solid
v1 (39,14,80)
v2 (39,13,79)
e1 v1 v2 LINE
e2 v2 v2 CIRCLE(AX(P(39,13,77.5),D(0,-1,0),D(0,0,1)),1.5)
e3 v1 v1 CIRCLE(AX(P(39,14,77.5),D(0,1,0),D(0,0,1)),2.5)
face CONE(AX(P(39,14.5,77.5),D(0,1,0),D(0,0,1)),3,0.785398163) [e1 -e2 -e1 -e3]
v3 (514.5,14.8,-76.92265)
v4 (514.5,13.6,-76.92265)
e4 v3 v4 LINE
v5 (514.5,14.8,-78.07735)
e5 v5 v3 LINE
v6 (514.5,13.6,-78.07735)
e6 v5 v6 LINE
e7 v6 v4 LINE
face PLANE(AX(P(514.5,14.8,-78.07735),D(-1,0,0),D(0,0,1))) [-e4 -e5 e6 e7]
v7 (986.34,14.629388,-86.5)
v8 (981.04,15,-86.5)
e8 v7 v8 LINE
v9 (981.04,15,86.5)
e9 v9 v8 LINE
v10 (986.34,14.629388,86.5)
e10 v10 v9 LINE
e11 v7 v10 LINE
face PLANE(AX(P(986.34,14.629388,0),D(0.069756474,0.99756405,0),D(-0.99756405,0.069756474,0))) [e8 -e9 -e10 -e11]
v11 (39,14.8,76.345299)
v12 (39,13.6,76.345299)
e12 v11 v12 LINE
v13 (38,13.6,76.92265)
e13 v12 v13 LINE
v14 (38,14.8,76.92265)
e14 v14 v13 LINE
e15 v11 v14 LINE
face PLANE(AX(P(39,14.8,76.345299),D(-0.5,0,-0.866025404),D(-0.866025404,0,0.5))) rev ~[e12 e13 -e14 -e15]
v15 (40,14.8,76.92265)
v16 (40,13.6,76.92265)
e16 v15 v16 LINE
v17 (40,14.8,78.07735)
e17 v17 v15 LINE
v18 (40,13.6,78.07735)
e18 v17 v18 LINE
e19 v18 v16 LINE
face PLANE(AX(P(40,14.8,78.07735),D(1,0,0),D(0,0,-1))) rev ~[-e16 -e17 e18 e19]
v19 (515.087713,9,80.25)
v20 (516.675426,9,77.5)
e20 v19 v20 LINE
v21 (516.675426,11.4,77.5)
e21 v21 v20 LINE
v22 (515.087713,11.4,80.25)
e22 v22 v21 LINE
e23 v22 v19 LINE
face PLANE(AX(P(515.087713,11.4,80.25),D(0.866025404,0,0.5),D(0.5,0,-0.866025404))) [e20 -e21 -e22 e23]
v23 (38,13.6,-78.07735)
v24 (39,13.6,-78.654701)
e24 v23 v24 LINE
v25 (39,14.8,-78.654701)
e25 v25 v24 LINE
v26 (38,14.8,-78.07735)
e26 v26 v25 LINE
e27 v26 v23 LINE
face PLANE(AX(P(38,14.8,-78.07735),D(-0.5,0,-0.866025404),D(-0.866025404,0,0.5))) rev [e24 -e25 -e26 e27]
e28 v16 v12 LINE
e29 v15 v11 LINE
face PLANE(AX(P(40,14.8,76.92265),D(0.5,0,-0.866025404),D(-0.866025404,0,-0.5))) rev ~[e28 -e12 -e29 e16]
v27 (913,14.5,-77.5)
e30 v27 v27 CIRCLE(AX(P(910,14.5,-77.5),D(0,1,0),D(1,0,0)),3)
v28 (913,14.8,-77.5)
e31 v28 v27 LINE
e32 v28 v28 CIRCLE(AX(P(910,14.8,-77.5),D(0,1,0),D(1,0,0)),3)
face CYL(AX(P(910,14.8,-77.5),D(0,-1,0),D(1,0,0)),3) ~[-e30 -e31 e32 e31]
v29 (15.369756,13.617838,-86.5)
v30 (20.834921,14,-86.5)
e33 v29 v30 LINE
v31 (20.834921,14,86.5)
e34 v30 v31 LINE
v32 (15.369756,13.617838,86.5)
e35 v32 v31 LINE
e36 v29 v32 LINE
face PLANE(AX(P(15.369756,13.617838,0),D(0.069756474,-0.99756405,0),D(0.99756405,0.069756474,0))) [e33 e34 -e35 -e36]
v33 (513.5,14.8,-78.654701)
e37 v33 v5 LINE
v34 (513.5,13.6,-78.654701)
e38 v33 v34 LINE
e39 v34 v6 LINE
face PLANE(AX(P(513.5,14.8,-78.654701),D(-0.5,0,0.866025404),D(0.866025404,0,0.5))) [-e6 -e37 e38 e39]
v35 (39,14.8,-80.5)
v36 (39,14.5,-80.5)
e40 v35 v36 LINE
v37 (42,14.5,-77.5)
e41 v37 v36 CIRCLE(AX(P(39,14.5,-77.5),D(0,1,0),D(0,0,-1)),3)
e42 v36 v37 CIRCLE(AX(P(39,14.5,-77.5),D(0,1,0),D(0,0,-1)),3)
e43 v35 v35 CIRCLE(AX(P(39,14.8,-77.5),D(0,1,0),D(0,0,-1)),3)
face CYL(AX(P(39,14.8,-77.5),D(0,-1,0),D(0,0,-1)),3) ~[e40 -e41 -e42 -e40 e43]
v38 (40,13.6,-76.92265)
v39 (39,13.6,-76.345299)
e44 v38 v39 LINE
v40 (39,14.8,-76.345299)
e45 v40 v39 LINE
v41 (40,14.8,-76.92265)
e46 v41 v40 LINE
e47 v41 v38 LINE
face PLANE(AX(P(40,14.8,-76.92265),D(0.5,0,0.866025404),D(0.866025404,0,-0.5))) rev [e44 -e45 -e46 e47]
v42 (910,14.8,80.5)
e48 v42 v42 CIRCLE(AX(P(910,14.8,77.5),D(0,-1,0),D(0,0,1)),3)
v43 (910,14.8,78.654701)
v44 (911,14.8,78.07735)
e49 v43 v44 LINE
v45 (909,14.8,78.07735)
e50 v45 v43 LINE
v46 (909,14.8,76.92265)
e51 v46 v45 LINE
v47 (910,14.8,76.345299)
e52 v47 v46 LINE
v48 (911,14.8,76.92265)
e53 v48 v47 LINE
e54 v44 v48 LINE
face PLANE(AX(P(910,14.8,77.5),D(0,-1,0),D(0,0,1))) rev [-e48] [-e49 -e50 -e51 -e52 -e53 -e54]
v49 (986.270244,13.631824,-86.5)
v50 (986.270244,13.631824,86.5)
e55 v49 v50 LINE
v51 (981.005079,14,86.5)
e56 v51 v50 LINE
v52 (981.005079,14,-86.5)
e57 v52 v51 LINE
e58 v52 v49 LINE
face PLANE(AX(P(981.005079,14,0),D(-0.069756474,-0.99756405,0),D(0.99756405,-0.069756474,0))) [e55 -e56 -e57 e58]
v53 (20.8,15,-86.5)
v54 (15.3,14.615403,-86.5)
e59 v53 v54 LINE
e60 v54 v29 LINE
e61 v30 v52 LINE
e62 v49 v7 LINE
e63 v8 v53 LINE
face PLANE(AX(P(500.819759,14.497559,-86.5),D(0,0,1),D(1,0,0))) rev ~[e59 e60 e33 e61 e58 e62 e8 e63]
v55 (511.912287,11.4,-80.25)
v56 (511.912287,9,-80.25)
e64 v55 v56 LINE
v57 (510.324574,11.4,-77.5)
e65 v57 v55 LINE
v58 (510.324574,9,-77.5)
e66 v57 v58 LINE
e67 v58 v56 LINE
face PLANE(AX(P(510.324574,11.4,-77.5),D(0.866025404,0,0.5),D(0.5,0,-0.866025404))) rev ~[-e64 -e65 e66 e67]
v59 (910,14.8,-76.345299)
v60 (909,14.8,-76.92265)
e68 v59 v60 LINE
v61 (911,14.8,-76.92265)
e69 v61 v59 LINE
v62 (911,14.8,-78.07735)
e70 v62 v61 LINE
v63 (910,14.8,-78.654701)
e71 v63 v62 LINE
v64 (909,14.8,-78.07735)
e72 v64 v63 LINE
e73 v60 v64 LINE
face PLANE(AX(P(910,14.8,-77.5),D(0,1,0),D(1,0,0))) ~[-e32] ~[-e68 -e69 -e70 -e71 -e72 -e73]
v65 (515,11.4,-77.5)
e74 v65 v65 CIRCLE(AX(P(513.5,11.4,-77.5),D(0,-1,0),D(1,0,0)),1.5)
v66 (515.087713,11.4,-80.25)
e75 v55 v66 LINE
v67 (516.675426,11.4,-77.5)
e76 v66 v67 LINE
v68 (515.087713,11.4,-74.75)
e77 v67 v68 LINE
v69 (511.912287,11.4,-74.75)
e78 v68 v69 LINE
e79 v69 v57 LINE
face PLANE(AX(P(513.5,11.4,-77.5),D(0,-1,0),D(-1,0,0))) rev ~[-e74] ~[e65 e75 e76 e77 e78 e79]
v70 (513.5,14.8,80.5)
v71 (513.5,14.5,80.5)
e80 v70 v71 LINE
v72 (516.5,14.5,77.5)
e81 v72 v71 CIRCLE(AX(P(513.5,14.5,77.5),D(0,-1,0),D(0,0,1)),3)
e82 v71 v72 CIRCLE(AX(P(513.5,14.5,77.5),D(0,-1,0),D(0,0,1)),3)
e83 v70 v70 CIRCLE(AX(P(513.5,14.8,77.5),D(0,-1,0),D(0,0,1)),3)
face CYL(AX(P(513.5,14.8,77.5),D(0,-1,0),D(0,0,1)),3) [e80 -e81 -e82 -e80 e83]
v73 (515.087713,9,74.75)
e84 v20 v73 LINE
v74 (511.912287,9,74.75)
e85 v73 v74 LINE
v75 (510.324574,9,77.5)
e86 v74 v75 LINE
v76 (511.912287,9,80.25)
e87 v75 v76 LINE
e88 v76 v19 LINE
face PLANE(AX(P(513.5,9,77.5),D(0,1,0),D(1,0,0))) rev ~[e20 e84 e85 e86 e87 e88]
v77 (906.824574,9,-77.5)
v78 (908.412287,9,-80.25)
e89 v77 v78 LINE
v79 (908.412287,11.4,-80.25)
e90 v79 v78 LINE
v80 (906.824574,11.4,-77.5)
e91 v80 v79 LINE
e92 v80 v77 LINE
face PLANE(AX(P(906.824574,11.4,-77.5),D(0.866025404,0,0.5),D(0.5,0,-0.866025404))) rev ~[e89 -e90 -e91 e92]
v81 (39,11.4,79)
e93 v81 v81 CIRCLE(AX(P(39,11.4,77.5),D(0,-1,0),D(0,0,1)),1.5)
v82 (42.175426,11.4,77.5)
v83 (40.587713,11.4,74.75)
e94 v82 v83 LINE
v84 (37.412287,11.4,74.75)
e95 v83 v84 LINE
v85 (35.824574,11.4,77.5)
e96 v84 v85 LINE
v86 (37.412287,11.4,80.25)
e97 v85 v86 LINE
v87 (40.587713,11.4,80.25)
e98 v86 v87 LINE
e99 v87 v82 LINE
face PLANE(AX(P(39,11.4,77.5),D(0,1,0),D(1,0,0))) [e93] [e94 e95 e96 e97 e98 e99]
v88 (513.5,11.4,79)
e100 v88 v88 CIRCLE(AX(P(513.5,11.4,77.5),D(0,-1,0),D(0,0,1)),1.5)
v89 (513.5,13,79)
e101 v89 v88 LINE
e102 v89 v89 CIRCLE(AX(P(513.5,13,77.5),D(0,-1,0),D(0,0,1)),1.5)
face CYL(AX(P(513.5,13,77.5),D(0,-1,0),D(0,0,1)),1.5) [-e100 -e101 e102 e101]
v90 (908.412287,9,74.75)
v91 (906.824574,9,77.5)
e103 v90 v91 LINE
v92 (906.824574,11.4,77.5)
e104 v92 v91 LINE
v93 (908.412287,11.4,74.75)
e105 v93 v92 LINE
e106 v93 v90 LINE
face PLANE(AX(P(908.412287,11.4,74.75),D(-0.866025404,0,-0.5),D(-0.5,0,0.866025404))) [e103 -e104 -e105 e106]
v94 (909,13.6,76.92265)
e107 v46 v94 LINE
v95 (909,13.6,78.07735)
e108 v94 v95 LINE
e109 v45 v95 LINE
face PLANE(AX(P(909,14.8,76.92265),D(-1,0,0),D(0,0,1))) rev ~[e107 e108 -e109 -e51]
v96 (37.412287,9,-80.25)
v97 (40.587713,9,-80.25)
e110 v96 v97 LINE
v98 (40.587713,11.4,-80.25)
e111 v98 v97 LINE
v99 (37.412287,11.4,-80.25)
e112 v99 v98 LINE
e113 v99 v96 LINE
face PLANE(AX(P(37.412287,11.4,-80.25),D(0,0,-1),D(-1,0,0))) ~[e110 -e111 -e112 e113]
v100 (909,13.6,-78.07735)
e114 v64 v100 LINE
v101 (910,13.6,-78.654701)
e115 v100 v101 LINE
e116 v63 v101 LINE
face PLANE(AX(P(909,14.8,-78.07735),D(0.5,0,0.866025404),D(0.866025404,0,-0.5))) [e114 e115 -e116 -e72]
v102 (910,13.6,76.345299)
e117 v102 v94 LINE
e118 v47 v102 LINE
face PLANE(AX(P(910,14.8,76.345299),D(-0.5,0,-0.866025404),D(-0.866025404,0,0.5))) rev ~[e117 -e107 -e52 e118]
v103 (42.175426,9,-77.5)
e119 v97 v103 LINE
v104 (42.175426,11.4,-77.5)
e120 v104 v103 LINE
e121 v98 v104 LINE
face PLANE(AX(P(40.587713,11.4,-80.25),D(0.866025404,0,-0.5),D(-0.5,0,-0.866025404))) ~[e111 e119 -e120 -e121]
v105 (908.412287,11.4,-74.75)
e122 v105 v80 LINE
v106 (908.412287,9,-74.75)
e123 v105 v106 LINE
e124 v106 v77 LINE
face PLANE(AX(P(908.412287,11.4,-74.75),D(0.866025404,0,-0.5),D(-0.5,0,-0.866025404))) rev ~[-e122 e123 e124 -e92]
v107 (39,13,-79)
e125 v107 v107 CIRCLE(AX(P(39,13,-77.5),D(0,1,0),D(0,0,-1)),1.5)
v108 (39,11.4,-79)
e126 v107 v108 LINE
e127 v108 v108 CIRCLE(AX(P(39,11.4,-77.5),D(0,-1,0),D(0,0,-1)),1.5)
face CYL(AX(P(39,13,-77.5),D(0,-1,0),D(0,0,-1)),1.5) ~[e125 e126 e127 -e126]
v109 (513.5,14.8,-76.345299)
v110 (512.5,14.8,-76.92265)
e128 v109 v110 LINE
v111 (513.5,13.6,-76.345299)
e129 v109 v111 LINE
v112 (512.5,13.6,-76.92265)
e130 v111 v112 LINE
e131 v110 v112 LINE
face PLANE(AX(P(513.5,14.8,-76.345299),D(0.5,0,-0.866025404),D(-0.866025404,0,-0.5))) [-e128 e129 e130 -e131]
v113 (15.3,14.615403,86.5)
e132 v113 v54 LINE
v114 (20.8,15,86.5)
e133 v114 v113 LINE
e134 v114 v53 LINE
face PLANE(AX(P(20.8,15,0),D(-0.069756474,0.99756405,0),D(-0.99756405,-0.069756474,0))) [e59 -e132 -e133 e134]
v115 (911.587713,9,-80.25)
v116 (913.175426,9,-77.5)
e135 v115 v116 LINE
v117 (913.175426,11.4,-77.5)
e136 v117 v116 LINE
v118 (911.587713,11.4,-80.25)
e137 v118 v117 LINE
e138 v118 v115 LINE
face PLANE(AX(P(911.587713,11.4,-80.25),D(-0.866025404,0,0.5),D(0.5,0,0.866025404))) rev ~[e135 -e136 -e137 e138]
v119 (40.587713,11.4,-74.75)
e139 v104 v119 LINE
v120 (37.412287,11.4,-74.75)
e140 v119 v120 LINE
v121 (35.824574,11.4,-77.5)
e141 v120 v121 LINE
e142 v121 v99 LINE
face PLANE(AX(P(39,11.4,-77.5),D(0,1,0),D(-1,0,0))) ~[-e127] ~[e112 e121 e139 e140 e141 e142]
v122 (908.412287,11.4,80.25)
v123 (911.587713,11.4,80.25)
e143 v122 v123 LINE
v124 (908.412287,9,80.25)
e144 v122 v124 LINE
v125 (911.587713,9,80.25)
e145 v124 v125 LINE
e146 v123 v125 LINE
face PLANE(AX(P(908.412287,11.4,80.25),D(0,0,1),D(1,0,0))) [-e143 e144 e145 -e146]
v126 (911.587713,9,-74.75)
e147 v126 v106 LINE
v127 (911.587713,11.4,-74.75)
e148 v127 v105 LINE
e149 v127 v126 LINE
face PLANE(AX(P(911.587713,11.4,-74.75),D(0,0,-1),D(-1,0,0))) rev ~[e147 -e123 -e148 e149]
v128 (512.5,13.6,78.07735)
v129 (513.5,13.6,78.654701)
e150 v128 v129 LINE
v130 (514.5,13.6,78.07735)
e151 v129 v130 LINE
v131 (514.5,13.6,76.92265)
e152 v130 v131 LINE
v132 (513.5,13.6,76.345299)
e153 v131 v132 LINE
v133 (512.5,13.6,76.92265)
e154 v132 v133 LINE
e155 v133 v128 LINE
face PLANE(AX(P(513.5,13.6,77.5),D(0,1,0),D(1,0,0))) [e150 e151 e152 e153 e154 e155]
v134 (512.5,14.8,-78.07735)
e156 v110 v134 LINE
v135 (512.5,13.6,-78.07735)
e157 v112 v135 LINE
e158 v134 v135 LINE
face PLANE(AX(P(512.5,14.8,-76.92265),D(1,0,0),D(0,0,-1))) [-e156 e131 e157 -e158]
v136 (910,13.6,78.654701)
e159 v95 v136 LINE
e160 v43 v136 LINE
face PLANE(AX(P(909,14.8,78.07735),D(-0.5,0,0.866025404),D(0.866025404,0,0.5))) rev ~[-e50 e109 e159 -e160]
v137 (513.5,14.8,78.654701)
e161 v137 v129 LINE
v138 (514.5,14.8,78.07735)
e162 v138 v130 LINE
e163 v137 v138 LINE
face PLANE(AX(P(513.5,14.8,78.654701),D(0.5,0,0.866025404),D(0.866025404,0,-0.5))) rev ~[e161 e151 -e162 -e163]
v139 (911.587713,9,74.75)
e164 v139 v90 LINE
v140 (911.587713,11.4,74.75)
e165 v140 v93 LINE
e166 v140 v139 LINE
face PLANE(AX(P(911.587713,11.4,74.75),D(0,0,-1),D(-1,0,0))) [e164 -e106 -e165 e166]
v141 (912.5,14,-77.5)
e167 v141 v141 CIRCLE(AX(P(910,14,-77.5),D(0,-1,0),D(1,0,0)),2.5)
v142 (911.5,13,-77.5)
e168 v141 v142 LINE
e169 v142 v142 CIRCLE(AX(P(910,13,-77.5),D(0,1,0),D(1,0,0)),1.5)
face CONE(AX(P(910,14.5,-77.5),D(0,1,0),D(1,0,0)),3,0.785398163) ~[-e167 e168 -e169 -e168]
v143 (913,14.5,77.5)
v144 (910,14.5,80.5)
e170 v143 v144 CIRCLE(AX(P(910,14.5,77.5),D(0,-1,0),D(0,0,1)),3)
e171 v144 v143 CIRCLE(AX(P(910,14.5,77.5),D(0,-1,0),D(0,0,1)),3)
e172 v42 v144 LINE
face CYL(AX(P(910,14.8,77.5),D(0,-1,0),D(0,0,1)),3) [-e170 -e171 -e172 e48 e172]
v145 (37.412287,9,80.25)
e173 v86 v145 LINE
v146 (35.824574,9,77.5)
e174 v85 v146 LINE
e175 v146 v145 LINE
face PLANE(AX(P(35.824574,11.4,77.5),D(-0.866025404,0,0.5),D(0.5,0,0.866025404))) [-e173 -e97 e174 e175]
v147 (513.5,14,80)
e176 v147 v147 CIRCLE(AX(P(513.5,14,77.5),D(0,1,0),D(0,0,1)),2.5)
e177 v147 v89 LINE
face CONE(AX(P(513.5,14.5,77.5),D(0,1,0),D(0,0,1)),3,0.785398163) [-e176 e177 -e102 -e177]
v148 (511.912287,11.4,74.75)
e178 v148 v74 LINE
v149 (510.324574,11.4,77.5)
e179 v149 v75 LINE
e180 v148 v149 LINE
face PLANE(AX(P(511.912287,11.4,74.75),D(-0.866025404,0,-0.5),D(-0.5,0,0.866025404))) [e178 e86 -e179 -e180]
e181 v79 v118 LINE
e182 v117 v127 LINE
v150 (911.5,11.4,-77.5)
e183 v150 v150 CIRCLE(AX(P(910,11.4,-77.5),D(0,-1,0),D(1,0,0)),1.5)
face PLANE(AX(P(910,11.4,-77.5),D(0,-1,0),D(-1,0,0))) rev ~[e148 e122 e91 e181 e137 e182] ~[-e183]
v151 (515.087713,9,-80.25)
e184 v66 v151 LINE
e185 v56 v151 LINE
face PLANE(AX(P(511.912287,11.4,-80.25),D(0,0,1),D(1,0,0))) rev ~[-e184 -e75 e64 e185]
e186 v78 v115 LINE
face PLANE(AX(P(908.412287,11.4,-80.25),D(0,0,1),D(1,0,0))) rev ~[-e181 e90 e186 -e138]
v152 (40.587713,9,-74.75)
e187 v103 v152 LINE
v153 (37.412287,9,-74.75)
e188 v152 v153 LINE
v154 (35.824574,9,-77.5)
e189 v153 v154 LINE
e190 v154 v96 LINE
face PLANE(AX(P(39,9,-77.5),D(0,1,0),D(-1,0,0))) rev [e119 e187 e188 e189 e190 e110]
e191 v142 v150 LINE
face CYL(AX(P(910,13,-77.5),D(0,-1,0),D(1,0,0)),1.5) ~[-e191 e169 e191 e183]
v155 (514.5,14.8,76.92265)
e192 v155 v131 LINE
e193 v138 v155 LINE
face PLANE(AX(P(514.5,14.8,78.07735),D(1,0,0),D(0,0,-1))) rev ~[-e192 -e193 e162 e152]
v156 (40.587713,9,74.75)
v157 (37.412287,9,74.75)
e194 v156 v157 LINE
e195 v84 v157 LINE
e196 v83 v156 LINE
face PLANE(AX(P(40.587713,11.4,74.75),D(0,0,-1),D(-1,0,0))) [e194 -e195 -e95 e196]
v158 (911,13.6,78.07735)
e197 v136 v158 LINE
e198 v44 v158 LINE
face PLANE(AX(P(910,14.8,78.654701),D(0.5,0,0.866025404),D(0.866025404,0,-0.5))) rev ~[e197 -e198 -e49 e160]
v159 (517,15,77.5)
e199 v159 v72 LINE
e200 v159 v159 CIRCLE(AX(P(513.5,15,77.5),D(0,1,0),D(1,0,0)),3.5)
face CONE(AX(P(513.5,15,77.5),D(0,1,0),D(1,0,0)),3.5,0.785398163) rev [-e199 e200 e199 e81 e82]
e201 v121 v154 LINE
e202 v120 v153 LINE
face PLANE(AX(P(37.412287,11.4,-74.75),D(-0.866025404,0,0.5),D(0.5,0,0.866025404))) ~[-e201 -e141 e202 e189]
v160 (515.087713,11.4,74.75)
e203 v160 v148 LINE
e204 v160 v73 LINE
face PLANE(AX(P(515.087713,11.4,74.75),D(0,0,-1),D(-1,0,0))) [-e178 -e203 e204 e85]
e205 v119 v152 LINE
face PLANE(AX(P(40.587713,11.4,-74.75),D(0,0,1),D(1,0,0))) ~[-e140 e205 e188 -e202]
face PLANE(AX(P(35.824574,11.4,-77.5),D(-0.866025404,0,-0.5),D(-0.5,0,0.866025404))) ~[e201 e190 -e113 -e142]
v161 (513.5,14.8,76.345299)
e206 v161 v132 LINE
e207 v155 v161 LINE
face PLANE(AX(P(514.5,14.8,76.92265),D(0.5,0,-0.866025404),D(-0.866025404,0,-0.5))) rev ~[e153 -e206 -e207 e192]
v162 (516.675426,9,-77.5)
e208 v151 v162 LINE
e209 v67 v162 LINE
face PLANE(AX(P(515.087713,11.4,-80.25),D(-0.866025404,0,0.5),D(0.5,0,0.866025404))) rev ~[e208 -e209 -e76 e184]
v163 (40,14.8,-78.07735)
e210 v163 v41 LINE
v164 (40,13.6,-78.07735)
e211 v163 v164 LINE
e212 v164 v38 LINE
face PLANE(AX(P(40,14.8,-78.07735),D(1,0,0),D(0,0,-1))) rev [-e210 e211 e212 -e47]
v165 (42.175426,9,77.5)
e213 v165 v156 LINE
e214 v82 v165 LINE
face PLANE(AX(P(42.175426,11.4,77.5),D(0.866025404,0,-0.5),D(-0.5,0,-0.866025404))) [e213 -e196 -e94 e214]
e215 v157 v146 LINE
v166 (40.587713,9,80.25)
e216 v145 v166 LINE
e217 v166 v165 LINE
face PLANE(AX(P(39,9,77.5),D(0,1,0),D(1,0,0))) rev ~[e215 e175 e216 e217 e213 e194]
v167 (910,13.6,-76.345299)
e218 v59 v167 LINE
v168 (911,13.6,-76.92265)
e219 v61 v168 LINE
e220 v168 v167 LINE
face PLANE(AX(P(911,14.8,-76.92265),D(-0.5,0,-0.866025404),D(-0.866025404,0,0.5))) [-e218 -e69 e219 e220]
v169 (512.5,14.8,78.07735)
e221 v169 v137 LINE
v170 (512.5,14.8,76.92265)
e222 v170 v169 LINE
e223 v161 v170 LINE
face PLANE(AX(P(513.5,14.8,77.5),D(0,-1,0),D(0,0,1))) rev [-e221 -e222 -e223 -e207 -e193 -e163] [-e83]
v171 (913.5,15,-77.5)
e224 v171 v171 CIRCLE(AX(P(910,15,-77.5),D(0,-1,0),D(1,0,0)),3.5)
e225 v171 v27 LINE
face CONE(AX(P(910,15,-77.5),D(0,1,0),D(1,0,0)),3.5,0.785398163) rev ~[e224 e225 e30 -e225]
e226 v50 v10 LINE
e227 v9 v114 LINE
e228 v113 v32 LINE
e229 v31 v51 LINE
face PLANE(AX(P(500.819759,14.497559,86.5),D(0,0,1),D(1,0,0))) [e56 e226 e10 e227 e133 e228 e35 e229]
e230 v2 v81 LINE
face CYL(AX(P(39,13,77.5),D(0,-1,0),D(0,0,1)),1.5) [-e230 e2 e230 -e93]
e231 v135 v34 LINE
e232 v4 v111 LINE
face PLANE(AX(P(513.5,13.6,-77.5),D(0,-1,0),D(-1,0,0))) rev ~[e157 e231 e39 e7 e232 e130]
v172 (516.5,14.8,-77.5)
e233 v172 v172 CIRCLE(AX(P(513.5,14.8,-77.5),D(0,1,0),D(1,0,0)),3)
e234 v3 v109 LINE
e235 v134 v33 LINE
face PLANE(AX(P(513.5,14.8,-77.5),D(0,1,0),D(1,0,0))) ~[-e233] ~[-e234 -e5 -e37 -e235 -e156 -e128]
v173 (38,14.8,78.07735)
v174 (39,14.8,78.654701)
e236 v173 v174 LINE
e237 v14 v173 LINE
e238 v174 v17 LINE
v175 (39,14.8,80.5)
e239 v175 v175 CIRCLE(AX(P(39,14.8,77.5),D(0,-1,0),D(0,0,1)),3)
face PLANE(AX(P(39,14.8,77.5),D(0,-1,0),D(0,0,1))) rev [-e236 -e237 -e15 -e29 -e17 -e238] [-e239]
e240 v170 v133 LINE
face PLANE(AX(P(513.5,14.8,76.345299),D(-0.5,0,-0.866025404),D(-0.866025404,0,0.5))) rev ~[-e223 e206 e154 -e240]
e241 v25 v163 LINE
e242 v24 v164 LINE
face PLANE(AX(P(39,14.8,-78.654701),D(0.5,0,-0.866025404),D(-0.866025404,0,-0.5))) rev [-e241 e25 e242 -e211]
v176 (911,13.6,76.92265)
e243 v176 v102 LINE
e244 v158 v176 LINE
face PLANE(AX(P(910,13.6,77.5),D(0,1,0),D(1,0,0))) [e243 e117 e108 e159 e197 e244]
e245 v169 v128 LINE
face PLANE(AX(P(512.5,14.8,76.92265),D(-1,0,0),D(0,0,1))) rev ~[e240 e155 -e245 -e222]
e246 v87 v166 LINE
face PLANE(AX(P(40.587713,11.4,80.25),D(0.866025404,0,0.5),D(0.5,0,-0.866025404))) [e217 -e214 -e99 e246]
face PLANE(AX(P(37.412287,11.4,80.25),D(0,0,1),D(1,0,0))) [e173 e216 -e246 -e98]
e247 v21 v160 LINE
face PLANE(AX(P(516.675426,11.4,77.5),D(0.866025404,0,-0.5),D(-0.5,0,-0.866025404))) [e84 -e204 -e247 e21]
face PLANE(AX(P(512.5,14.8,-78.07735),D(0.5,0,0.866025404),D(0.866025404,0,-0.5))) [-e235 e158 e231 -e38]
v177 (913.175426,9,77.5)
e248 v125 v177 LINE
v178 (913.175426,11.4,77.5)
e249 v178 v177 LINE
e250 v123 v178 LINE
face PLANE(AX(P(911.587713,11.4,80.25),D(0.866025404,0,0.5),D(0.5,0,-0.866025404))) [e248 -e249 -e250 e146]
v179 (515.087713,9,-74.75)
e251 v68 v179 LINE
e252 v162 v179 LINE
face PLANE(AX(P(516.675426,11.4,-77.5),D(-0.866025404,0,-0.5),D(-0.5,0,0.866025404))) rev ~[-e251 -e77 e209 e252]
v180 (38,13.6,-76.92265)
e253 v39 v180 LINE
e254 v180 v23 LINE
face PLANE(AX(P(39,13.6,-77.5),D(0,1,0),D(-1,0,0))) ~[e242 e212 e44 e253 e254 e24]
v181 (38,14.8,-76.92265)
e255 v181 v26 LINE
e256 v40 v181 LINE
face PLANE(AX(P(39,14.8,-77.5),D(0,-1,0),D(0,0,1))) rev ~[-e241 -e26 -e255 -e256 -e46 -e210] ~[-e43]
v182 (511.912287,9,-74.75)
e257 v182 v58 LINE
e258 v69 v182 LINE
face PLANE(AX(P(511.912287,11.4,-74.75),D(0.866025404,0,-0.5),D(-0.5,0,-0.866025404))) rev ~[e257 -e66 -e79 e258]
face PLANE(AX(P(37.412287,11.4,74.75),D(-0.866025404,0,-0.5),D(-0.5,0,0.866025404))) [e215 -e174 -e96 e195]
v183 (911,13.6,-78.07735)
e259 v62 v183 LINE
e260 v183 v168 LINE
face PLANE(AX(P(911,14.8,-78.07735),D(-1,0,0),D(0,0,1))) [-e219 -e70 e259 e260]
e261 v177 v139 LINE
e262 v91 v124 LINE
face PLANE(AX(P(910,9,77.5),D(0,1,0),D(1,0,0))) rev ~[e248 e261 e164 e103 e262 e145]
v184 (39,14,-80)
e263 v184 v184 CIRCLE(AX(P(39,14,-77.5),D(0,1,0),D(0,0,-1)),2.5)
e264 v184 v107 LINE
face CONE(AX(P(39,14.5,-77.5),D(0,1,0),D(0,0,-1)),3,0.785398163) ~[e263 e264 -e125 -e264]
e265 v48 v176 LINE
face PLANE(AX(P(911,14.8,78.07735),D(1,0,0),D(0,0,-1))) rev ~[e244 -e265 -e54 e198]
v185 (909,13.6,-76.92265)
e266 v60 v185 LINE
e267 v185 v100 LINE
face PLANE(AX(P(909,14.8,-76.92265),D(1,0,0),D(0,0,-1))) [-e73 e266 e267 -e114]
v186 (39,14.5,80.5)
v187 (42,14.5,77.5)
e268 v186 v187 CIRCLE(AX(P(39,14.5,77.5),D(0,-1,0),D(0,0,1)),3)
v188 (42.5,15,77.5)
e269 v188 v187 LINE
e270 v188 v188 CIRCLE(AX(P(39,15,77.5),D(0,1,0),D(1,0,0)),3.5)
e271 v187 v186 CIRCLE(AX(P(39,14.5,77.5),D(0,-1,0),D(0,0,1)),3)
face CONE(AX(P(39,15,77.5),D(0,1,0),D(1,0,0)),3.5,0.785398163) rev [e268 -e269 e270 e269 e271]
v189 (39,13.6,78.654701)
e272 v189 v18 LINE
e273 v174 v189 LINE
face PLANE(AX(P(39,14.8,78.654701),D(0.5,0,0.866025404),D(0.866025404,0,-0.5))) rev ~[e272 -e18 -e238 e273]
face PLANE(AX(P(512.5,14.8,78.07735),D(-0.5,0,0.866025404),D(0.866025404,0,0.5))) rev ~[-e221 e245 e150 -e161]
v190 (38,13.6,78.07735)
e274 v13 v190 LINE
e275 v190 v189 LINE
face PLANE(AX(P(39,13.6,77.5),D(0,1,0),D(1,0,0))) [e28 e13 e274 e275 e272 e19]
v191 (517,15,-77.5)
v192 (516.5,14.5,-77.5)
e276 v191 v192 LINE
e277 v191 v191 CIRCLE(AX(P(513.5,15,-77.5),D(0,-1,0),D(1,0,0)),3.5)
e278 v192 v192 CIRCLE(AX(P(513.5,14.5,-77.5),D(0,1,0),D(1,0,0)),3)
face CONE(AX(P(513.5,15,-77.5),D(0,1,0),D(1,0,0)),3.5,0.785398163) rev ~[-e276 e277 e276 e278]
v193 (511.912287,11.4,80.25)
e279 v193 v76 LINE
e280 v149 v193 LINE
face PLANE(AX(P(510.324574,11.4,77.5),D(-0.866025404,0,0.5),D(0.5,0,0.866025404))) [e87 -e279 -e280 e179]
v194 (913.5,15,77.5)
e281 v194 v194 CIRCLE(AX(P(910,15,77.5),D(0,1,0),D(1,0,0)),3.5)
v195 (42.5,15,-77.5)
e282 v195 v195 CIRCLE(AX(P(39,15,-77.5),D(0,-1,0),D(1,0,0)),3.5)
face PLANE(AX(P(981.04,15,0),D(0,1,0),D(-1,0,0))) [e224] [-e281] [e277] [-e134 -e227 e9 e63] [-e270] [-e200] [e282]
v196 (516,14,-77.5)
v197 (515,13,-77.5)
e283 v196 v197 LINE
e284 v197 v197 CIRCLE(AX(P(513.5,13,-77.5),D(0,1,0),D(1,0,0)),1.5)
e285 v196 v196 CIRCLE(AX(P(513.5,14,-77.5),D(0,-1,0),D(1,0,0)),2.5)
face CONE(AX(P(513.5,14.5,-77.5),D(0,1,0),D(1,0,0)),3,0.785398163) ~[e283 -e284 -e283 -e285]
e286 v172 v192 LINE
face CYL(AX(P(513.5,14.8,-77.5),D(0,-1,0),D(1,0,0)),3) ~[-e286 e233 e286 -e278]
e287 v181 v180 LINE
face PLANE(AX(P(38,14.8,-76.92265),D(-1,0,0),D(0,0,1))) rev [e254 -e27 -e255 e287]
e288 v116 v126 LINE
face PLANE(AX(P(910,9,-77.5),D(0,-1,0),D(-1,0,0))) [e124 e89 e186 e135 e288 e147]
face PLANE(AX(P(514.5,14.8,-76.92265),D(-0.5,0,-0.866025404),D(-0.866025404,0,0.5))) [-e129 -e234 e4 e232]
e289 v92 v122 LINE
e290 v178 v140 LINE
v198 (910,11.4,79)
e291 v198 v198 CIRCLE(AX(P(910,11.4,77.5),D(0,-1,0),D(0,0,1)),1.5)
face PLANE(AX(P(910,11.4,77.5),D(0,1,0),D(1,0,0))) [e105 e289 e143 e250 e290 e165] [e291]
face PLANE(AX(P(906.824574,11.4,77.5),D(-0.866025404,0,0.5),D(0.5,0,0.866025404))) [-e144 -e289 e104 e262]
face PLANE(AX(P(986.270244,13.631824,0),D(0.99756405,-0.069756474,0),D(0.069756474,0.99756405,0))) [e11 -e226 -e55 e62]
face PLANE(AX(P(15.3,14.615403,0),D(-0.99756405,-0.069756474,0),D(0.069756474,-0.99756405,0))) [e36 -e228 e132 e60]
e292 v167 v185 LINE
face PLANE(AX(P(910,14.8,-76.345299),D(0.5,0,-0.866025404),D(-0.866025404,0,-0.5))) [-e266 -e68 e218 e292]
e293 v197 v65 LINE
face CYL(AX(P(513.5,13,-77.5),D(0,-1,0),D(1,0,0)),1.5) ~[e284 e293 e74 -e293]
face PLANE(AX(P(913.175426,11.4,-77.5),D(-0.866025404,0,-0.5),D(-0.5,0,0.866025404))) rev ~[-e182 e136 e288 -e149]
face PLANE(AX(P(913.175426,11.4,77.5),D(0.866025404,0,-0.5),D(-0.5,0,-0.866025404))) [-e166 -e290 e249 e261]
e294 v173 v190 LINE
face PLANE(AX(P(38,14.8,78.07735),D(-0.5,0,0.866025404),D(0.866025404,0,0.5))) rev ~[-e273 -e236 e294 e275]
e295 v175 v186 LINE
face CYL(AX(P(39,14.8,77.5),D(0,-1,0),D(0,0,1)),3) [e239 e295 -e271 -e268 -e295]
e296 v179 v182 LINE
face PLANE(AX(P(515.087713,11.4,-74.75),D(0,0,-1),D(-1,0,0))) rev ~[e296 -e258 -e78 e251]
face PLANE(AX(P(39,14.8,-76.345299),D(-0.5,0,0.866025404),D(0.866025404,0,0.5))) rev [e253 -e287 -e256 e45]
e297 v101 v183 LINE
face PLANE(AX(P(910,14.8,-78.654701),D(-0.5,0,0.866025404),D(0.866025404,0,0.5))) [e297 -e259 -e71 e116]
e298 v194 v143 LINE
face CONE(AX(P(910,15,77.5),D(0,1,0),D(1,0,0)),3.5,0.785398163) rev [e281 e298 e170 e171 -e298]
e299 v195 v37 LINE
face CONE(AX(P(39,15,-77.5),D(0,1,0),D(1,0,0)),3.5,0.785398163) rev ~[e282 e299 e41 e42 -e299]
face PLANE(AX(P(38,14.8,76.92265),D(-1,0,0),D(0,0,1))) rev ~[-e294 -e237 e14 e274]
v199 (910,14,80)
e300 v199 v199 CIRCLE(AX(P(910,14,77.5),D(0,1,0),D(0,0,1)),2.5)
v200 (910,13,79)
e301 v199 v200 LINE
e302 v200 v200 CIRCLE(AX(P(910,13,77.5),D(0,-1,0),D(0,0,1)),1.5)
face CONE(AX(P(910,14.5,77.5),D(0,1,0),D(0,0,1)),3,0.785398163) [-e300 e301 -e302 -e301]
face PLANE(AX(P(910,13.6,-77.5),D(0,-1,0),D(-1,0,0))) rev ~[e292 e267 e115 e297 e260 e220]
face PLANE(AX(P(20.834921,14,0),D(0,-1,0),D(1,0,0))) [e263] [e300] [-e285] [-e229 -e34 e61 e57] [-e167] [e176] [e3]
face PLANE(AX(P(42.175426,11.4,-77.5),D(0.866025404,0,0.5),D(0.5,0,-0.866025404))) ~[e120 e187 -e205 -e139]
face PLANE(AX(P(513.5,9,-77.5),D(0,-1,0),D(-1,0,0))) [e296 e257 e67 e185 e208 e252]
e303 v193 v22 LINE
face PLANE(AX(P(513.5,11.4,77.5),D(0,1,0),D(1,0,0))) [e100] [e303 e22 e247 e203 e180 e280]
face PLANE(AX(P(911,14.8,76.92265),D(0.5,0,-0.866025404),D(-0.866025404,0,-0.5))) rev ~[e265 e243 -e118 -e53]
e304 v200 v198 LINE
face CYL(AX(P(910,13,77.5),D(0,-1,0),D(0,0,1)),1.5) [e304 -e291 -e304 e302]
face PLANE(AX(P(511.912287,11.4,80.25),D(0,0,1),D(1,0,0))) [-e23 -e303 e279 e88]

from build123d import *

# Parameters (mm, degrees)
BOSS_EXTRUDE1_DEPTH    = 86.5
CUT_EXTRUDE1_DEPTH     = 1.2
BOSS_EXTRUDE2_DEPTH    = 2.4
LPATTERN1_COUNT        = 2
LPATTERN1_PITCH        = 871
LPATTERN1_COPY_3_DEPTH = 1.2
LPATTERN1_COPY_4_DEPTH = 2.4
LPATTERN2_COUNT        = 2
LPATTERN2_PITCH        = 474.5
LPATTERN2_COPY_3_DEPTH = 1.2
LPATTERN2_COPY_4_DEPTH = 2.4


with BuildPart() as part:
    # Sketch1 → Boss-Extrude1 (new, symmetric)
    with BuildSketch(Plane.XY):
        Polygon((15.3, 14.615402534), (15.369756474, 13.617838484), (20.834920769, 14), (981.005079231, 14), (986.270243526, 13.631823846), (986.34, 14.629387897), (981.04, 15), (20.8, 15), align=None)
    extrude(amount=BOSS_EXTRUDE1_DEPTH, both=True)

    # Sketch3 → Cut-Revolve1 (revolve, cut)
    with BuildSketch(Plane.XY.offset(77.5)):
        Polygon((39, 15), (42.5, 15), (41.5, 14), (39, 14), align=None)
    cut_revolve1 = revolve(axis=Axis((39, 14, 77.5), (0, 1, 0)), mode=Mode.SUBTRACT)

    # Sketch4 → Revolve1 (revolve)
    with BuildSketch(Plane.XY.offset(77.5)):
        Polygon((39, 14.8), (42, 14.8), (42, 14.5), (40.5, 13), (40.5, 9.3), (39, 9.3), align=None)
    revolve1 = revolve(axis=Axis((39, 15, 77.5), (0, -1, 0)))

    # Sketch5 → Cut-Extrude1 (cut)
    with BuildSketch(Plane(origin=(0, 14.8, 0), x_dir=(1, 0, 0), z_dir=(0, 1, 0))):
        Polygon((39, -76.345299462), (38, -76.922649731), (38, -78.077350269), (39, -78.654700538), (40, -78.077350269), (40, -76.922649731), align=None)
    cut_extrude1 = extrude(amount=-CUT_EXTRUDE1_DEPTH, mode=Mode.SUBTRACT)

    # Sketch6 → Boss-Extrude2 (add)
    with BuildSketch(Plane(origin=(0, 11.4, 0), x_dir=(1, 0, 0), z_dir=(0, 1, 0))):
        Polygon((35.824573519, -77.5), (37.41228676, -80.25), (40.58771324, -80.25), (42.175426481, -77.5), (40.58771324, -74.75), (37.41228676, -74.75), align=None)
    boss_extrude2 = extrude(amount=-BOSS_EXTRUDE2_DEPTH)

    # Mirror1: Cut-Revolve1, Revolve1, Cut-Extrude1, Boss-Extrude2 across plane
    add(cut_revolve1.mirror(Plane.XY), mode=Mode.SUBTRACT)
    add(revolve1.mirror(Plane.XY))
    add(cut_extrude1.mirror(Plane.XY), mode=Mode.SUBTRACT)
    add(boss_extrude2.mirror(Plane.XY))

    # LPattern1: Cut-Revolve1, Revolve1, Cut-Extrude1, Boss-Extrude2 ×2
    with Locations(*[(i * LPATTERN1_PITCH, 0, 0) for i in range(1, LPATTERN1_COUNT)]):
        add(cut_revolve1, mode=Mode.SUBTRACT)
        add(revolve1)
        add(cut_extrude1, mode=Mode.SUBTRACT)
        add(boss_extrude2)

    # LPattern1 copy 1 sketch → LPattern1 copy 1 (revolve, cut)
    with BuildSketch(Plane(origin=(871, 0, -77.5), x_dir=(1, 0, 0), z_dir=(0, 0, -1))):
        Polygon((39, -15), (42.5, -15), (41.5, -14), (39, -14), align=None)
    revolve(axis=Axis((910, 14, -77.5), (0, -1, 0)), mode=Mode.SUBTRACT)

    # LPattern1 copy 2 sketch → LPattern1 copy 2 (revolve)
    with BuildSketch(Plane(origin=(871, 0, -77.5), x_dir=(1, 0, 0), z_dir=(0, 0, -1))):
        Polygon((39, -14.8), (42, -14.8), (42, -14.5), (40.5, -13), (40.5, -9.3), (39, -9.3), align=None)
    revolve(axis=Axis((910, 15, -77.5), (0, 1, 0)))

    # LPattern1 copy 3 sketch → LPattern1 copy 3 (cut)
    with BuildSketch(Plane(origin=(871, 14.8, 0), x_dir=(1, 0, 0), z_dir=(0, 1, 0))):
        Polygon((39, 76.345299462), (38, 76.922649731), (38, 78.077350269), (39, 78.654700538), (40, 78.077350269), (40, 76.922649731), align=None)
    extrude(amount=-LPATTERN1_COPY_3_DEPTH, mode=Mode.SUBTRACT)

    # LPattern1 copy 4 sketch → LPattern1 copy 4 (add)
    with BuildSketch(Plane(origin=(871, 11.4, 0), x_dir=(1, 0, 0), z_dir=(0, 1, 0))):
        Polygon((35.824573519, 77.5), (37.41228676, 80.25), (40.58771324, 80.25), (42.175426481, 77.5), (40.58771324, 74.75), (37.41228676, 74.75), align=None)
    extrude(amount=-LPATTERN1_COPY_4_DEPTH)

    # LPattern2: Cut-Revolve1, Revolve1, Cut-Extrude1, Boss-Extrude2 ×2
    with Locations(*[(i * LPATTERN2_PITCH, 0, 0) for i in range(1, LPATTERN2_COUNT)]):
        add(cut_revolve1, mode=Mode.SUBTRACT)
        add(revolve1)
        add(cut_extrude1, mode=Mode.SUBTRACT)
        add(boss_extrude2)

    # LPattern2 copy 1 sketch → LPattern2 copy 1 (revolve, cut)
    with BuildSketch(Plane(origin=(474.5, 0, -77.5), x_dir=(1, 0, 0), z_dir=(0, 0, -1))):
        Polygon((39, -15), (42.5, -15), (41.5, -14), (39, -14), align=None)
    revolve(axis=Axis((513.5, 14, -77.5), (0, -1, 0)), mode=Mode.SUBTRACT)

    # LPattern2 copy 2 sketch → LPattern2 copy 2 (revolve)
    with BuildSketch(Plane(origin=(474.5, 0, -77.5), x_dir=(1, 0, 0), z_dir=(0, 0, -1))):
        Polygon((39, -14.8), (42, -14.8), (42, -14.5), (40.5, -13), (40.5, -9.3), (39, -9.3), align=None)
    revolve(axis=Axis((513.5, 15, -77.5), (0, 1, 0)))

    # LPattern2 copy 3 sketch → LPattern2 copy 3 (cut)
    with BuildSketch(Plane(origin=(474.5, 14.8, 0), x_dir=(1, 0, 0), z_dir=(0, 1, 0))):
        Polygon((39, 76.345299462), (38, 76.922649731), (38, 78.077350269), (39, 78.654700538), (40, 78.077350269), (40, 76.922649731), align=None)
    extrude(amount=-LPATTERN2_COPY_3_DEPTH, mode=Mode.SUBTRACT)

    # LPattern2 copy 4 sketch → LPattern2 copy 4 (add)
    with BuildSketch(Plane(origin=(474.5, 11.4, 0), x_dir=(1, 0, 0), z_dir=(0, 1, 0))):
        Polygon((35.824573519, 77.5), (37.41228676, 80.25), (40.58771324, 80.25), (42.175426481, 77.5), (40.58771324, 74.75), (37.41228676, 74.75), align=None)
    extrude(amount=-LPATTERN2_COPY_4_DEPTH)


solid = part.part
